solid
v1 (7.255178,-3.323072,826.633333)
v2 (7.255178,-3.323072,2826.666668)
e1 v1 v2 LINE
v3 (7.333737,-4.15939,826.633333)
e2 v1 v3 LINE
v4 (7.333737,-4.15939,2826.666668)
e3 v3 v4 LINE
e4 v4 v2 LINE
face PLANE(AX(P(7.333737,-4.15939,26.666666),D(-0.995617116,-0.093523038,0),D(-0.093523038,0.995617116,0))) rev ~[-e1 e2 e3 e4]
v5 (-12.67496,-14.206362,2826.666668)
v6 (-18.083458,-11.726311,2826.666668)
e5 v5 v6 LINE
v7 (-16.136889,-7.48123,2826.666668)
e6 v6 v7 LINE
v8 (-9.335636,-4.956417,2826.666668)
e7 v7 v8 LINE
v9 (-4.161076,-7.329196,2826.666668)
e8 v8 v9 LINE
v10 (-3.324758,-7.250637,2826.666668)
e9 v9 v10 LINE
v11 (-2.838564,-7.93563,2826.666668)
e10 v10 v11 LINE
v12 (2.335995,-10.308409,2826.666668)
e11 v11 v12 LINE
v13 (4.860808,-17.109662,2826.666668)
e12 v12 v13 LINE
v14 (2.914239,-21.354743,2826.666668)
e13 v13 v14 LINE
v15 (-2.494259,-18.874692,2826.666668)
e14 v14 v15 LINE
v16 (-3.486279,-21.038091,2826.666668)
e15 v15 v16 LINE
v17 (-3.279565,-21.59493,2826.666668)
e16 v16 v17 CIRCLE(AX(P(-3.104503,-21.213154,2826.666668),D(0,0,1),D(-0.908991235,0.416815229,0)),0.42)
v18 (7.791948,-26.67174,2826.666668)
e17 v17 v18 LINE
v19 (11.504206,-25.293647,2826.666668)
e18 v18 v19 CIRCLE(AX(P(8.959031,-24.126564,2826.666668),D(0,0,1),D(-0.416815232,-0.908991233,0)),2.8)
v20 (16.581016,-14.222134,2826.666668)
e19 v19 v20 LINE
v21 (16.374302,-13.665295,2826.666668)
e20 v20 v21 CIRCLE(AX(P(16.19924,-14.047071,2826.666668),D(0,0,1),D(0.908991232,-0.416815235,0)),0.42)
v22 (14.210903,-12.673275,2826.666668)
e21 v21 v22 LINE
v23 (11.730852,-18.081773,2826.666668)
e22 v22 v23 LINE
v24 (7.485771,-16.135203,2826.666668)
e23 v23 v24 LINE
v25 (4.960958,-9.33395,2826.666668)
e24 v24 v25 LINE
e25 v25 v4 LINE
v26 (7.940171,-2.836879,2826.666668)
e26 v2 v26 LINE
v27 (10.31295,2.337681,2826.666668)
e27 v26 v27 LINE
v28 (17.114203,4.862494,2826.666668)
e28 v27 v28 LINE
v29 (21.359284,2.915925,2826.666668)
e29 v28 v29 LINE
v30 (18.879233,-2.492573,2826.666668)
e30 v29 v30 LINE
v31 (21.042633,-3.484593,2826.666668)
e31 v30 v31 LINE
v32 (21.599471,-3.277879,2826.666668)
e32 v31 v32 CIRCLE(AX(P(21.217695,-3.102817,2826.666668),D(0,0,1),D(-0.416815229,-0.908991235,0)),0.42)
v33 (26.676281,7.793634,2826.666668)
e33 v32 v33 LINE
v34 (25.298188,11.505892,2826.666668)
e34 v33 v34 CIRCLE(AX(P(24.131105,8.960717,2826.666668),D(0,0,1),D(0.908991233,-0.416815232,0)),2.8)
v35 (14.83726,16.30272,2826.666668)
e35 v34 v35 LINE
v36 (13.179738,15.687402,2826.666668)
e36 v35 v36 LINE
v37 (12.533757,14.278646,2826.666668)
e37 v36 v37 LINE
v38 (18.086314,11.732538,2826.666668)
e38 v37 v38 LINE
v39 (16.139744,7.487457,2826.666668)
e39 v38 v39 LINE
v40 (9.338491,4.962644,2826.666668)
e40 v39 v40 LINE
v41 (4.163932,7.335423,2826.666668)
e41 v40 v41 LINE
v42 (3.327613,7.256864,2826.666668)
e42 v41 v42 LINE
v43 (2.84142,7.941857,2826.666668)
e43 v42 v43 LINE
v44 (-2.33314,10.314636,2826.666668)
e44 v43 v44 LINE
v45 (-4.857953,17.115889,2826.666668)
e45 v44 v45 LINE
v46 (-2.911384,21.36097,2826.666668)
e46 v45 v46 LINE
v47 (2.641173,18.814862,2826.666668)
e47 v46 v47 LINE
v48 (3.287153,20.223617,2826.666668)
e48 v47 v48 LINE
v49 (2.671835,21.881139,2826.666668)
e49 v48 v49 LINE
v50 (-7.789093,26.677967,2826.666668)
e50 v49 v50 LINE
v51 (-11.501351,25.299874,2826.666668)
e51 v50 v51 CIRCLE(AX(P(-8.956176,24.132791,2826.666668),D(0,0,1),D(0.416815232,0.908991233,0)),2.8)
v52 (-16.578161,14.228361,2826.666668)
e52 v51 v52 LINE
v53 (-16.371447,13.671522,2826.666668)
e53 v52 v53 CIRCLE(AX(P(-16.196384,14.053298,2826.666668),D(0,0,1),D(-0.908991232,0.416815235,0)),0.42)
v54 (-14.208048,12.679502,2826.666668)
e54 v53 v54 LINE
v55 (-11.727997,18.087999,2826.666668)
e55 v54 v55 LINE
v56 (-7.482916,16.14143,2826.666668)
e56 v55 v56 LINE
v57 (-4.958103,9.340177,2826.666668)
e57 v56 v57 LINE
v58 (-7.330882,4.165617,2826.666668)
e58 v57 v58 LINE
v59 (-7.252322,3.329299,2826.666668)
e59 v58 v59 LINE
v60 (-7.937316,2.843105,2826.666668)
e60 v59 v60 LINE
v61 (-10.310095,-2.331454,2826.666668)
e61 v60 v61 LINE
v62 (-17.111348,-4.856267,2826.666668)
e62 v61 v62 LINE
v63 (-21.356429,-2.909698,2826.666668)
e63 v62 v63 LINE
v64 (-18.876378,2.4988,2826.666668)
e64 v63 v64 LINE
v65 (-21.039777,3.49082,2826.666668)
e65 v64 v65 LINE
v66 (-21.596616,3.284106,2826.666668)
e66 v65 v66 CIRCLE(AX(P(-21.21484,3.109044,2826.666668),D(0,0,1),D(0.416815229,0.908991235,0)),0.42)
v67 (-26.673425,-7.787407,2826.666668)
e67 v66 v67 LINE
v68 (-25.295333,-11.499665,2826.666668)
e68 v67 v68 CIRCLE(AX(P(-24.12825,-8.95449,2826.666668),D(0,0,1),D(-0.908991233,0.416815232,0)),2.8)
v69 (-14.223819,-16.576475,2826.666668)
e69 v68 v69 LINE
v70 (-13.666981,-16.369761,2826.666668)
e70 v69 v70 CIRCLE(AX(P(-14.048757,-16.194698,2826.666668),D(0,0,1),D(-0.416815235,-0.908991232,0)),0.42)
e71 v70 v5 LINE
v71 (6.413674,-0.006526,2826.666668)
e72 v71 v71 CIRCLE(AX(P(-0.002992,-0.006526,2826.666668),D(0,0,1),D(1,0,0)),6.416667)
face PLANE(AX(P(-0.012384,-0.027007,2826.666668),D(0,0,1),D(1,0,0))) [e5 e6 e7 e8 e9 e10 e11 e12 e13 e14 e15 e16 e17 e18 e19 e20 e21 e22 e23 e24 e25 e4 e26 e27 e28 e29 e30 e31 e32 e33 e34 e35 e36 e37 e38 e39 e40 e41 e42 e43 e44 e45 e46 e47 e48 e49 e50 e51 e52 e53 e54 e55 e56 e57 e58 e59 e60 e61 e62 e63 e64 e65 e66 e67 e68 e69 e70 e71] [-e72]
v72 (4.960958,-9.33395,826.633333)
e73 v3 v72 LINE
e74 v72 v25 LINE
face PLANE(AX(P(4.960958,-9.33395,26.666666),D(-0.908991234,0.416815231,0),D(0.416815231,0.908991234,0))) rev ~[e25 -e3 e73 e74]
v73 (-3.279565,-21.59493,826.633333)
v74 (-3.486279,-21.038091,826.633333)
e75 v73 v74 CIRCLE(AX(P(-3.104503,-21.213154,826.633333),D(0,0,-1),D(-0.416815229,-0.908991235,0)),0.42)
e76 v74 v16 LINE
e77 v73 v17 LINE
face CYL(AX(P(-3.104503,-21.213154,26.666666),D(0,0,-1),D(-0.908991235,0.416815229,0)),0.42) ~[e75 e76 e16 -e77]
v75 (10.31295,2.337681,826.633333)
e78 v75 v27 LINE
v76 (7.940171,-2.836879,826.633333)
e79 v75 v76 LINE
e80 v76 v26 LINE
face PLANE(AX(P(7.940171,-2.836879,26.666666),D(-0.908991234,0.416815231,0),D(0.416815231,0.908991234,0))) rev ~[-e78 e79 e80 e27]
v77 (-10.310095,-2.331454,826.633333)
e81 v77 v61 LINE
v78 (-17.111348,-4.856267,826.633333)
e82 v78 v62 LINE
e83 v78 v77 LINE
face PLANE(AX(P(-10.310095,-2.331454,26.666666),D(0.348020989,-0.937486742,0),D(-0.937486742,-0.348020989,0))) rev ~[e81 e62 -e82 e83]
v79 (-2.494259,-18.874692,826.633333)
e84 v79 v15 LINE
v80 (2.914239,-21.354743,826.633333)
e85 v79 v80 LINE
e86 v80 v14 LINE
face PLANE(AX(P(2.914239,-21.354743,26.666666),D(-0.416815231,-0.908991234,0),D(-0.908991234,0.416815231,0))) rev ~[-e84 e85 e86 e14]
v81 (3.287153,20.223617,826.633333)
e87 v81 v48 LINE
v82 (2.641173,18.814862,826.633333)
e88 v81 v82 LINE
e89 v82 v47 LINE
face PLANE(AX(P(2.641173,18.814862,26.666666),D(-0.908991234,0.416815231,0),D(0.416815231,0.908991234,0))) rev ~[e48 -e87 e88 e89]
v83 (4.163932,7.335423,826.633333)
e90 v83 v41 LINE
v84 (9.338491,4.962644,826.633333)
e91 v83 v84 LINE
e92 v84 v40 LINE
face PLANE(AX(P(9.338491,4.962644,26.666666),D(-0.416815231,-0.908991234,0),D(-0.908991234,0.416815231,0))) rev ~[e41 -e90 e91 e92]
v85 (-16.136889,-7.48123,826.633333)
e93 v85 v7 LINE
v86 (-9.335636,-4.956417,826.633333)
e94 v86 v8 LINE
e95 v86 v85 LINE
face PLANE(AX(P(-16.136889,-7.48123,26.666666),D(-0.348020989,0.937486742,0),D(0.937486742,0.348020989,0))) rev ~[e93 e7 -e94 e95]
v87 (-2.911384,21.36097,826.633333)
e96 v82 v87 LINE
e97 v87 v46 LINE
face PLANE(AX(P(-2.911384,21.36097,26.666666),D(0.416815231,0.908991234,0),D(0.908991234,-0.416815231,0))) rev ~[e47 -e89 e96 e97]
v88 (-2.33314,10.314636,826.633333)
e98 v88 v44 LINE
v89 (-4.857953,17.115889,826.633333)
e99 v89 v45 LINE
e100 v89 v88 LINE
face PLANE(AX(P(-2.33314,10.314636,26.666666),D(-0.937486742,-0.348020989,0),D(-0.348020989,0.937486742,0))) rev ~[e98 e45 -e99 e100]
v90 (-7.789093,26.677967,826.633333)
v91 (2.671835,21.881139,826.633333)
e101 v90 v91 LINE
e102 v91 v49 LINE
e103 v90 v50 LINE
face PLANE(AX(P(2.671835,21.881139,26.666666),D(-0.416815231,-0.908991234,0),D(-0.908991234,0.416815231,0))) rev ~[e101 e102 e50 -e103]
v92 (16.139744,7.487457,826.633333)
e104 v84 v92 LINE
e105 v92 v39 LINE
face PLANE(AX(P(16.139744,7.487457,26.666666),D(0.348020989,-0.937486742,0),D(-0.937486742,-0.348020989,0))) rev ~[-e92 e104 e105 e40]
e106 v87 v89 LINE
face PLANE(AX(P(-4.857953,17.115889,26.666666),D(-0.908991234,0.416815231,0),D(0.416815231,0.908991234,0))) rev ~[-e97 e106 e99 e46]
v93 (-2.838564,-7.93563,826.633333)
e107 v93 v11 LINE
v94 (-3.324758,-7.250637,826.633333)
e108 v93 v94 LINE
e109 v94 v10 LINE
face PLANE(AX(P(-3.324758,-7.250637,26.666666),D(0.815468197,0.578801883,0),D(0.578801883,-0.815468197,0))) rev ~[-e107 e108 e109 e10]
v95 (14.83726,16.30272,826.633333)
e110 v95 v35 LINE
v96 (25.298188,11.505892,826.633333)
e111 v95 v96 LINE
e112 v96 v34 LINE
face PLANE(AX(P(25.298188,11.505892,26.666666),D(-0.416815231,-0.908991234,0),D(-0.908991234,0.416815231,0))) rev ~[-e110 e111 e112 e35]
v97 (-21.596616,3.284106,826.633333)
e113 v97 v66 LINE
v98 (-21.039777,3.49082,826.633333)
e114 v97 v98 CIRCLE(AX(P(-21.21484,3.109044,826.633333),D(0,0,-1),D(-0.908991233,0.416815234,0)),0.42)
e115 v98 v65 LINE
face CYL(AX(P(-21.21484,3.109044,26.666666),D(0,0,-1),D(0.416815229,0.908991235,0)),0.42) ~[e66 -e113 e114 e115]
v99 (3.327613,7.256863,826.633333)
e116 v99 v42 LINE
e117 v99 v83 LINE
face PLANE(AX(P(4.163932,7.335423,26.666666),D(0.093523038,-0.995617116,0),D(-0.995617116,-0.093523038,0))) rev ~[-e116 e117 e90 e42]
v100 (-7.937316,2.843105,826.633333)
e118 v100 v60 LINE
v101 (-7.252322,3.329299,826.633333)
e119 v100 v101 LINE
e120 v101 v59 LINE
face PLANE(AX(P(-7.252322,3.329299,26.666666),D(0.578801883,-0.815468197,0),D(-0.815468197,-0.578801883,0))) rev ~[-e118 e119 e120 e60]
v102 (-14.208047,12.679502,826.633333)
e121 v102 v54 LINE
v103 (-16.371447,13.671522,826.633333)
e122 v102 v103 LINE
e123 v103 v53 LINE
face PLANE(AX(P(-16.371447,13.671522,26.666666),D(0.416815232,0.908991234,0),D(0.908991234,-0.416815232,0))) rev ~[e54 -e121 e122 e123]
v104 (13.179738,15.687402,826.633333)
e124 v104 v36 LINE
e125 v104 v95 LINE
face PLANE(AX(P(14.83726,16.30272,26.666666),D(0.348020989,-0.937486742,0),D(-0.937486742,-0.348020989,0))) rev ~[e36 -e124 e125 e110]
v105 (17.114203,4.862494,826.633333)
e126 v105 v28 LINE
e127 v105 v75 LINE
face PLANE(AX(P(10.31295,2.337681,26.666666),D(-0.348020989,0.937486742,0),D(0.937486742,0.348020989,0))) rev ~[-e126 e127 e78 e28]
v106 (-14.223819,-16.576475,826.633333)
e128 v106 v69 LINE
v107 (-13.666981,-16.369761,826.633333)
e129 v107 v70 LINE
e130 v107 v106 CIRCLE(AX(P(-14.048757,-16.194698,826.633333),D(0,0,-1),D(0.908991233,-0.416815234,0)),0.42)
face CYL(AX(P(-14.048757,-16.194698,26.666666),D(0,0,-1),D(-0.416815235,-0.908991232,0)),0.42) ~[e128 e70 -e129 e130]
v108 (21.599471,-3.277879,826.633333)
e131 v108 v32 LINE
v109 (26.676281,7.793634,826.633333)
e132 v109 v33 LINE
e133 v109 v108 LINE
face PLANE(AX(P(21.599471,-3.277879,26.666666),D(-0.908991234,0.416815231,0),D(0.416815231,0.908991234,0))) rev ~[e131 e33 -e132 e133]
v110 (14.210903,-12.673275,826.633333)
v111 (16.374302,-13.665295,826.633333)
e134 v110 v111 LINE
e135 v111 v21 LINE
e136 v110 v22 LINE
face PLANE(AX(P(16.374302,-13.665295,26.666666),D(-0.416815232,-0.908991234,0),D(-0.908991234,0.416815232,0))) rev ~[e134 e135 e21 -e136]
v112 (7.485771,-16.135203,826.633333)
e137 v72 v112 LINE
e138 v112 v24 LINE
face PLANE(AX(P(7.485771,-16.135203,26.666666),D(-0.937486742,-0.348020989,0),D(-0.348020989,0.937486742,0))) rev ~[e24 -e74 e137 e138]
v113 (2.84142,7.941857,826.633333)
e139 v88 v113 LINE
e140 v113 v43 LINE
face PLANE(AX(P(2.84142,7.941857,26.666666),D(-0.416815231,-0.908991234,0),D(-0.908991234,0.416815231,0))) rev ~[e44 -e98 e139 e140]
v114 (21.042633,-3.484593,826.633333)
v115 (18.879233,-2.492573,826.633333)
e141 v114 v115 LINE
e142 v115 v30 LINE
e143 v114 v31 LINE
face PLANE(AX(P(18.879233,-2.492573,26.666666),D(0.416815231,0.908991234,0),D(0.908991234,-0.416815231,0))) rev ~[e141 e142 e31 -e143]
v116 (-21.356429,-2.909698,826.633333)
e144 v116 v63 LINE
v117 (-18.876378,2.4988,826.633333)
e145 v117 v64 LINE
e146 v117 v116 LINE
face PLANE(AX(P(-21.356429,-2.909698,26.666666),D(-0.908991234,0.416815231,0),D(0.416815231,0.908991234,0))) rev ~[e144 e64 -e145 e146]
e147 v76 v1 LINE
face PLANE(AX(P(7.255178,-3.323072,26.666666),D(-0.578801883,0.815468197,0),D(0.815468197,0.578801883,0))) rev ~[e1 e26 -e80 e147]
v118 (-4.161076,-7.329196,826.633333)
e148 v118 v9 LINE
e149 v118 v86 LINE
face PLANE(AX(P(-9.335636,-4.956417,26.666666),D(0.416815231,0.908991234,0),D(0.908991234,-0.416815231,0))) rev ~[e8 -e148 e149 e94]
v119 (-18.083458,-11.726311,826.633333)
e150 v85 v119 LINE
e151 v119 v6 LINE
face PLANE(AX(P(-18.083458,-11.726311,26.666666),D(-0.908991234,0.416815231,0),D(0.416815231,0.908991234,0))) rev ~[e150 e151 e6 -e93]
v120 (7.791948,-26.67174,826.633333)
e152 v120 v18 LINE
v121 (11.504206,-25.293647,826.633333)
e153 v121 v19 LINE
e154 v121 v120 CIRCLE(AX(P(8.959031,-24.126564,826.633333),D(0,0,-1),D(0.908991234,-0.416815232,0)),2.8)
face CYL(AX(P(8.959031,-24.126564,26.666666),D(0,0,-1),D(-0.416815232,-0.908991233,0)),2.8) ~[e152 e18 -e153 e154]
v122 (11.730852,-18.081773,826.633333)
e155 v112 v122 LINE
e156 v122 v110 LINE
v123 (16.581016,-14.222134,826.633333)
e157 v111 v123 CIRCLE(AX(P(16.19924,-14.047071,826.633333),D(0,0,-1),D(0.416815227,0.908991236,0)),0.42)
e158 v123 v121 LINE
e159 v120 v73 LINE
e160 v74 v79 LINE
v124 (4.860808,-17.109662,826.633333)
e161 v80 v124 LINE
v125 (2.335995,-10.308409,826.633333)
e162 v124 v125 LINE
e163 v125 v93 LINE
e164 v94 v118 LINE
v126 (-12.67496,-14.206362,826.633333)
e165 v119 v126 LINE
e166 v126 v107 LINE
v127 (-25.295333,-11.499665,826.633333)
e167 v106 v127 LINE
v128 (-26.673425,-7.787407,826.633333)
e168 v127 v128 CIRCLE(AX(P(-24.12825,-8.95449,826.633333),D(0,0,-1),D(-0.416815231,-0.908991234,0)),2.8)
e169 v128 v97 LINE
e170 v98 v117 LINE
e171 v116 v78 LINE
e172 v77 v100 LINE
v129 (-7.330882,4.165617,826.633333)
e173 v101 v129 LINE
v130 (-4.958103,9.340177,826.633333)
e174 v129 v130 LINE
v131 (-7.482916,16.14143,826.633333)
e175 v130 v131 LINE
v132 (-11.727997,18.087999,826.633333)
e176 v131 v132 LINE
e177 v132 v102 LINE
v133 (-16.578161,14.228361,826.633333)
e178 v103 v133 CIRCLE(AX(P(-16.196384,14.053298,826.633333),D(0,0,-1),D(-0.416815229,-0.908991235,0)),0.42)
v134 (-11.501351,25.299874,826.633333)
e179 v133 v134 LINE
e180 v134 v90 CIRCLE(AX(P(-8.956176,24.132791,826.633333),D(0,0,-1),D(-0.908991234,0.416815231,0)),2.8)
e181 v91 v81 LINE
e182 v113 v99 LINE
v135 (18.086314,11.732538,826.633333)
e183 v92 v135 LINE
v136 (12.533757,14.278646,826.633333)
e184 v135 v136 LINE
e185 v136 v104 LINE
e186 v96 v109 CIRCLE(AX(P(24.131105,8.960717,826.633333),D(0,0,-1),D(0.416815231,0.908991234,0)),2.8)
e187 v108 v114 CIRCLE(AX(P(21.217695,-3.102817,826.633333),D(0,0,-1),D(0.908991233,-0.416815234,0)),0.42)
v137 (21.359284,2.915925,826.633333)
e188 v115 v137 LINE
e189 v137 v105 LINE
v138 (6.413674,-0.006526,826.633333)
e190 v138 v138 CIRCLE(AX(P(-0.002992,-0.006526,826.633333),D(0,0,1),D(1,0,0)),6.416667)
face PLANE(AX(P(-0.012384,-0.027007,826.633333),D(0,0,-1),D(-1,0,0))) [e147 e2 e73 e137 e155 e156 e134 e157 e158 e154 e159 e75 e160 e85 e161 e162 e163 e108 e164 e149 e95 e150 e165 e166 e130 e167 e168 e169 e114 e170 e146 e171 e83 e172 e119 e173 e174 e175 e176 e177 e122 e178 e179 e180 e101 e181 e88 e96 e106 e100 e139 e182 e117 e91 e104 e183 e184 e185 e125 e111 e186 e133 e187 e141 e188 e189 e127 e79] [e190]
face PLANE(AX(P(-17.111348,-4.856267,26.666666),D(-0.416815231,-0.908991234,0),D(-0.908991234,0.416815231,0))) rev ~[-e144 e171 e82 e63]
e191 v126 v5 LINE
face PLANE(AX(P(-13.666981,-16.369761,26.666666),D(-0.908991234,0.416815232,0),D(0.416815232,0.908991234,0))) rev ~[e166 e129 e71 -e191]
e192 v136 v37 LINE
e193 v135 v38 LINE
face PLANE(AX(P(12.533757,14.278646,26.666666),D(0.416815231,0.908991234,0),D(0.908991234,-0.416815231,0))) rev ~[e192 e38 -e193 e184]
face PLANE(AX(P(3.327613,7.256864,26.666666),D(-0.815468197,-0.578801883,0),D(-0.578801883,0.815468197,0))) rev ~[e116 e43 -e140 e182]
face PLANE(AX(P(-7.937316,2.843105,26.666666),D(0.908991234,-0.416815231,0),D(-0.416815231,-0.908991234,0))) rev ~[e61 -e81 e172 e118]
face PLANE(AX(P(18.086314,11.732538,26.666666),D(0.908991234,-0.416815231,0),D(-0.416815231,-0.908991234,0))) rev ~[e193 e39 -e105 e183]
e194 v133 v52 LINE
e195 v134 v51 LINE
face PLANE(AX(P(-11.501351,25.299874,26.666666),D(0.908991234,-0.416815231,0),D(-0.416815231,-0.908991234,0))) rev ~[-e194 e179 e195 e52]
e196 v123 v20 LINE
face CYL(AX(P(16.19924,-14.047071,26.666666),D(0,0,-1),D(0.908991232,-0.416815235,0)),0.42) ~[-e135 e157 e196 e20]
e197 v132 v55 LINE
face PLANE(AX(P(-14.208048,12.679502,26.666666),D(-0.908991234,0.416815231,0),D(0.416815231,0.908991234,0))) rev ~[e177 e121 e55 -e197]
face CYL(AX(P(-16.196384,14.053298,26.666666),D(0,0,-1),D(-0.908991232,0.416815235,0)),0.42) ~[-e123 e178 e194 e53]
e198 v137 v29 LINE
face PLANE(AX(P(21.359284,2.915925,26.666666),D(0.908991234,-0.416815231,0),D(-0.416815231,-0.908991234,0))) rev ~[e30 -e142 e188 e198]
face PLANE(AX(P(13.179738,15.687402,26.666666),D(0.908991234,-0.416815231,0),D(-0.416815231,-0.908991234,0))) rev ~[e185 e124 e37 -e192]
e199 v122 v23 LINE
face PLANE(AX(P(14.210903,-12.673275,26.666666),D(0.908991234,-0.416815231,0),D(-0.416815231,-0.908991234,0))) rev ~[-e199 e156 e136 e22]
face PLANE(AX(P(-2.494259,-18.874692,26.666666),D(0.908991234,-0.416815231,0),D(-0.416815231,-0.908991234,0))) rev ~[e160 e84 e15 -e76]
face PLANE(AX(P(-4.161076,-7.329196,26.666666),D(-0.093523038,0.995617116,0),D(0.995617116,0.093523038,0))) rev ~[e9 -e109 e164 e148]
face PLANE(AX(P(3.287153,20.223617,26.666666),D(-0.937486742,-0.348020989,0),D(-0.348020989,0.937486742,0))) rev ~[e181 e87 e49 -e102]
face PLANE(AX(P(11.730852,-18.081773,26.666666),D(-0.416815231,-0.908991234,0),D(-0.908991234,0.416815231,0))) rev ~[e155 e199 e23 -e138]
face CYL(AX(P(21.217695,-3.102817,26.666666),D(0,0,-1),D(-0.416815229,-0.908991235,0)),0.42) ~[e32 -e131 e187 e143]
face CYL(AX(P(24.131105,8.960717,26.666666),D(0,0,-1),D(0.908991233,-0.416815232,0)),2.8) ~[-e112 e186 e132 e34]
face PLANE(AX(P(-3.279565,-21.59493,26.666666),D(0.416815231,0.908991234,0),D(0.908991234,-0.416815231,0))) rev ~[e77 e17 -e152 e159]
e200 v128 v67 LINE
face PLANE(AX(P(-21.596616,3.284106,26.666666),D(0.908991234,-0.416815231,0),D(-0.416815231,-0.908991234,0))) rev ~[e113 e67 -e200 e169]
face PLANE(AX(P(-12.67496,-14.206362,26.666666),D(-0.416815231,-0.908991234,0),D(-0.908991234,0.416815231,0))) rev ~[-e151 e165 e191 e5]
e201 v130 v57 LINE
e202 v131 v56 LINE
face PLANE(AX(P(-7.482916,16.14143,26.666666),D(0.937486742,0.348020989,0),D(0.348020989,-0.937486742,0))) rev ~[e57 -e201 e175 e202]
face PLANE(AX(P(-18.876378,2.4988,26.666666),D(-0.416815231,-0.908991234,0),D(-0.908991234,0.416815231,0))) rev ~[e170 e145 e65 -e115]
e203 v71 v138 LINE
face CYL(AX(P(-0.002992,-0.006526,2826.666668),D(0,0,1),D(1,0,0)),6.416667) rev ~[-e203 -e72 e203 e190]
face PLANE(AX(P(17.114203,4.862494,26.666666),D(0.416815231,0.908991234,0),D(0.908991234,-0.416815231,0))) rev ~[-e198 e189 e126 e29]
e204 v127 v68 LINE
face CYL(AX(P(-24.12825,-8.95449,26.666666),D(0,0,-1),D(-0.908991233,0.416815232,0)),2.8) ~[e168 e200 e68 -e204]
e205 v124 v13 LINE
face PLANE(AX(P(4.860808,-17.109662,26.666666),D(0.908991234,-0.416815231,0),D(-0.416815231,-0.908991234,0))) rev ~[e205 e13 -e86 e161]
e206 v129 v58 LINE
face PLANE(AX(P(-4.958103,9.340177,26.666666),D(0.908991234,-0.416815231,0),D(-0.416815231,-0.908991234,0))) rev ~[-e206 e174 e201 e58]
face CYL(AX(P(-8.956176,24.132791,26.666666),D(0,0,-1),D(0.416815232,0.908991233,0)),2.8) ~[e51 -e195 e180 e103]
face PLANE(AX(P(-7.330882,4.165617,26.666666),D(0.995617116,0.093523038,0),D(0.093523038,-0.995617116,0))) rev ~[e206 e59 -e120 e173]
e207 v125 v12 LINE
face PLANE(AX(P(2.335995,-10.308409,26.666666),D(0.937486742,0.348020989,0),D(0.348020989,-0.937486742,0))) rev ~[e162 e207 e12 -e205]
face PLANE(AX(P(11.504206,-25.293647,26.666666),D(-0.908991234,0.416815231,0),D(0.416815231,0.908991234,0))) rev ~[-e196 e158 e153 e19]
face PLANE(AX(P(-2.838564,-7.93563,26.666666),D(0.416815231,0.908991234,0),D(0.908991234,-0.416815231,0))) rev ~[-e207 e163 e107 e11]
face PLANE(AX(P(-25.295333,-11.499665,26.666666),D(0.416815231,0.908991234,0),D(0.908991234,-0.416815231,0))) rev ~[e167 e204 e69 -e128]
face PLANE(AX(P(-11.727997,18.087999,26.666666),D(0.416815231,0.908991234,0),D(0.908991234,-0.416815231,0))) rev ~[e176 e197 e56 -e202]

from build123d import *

# Parameters (mm, degrees)
BOSS_EXTRUDE1_DEPTH = 2000
SCALE1_SCALE        = 3
SKETCH2_R           = 115.047789556
CUT_EXTRUDE1_DEPTH  = 1600
SKETCH3_R           = 13.75
CUT_EXTRUDE2_DEPTH  = 4401
SCALE2_SCALE        = 0.466666667
CUT_EXTRUDE3_DEPTH  = 53.3


with BuildPart() as part:
    # Sketch1 → Boss-Extrude1 (new body)
    with BuildSketch(Plane.XY):
        with BuildLine():
            Line((-8.216270499, 18.069114507), (-11.842563011, 10.160890774))
            ThreePointArc((-11.842563011, 10.160890774), (-11.851111664, 9.931439908), (-11.694910211, 9.763148835))
            Line((-11.694910211, 9.763148835), (-10.149625113, 9.054562941))
            Line((-10.149625113, 9.054562941), (-8.37816038, 12.917775685))
            Line((-8.37816038, 12.917775685), (-5.345959751, 11.527369089))
            Line((-5.345959751, 11.527369089), (-3.542521768, 6.669331059))
            Line((-3.542521768, 6.669331059), (-5.237363855, 2.973217088))
            Line((-5.237363855, 2.973217088), (-5.181250032, 2.375846818))
            Line((-5.181250032, 2.375846818), (-5.67053095, 2.028565688))
            Line((-5.67053095, 2.028565688), (-7.365373037, -1.667548284))
            Line((-7.365373037, -1.667548284), (-12.223411067, -3.470986267))
            Line((-12.223411067, -3.470986267), (-15.255611696, -2.080579672))
            Line((-15.255611696, -2.080579672), (-13.484146963, 1.782633072))
            Line((-13.484146963, 1.782633072), (-15.029432061, 2.491218965))
            ThreePointArc((-15.029432061, 2.491218965), (-15.258882927, 2.499767617), (-15.427174, 2.343566164))
            Line((-15.427174, 2.343566164), (-19.053466512, -5.564657569))
            ThreePointArc((-19.053466512, -5.564657569), (-19.110457529, -7.094330009), (-18.069114507, -8.216270499))
            Line((-18.069114507, -8.216270499), (-10.160890774, -11.842563011))
            ThreePointArc((-10.160890774, -11.842563011), (-9.931439908, -11.851111664), (-9.763148835, -11.694910211))
            Line((-9.763148835, -11.694910211), (-9.054562941, -10.149625113))
            Line((-9.054562941, -10.149625113), (-12.917775685, -8.37816038))
            Line((-12.917775685, -8.37816038), (-11.527369089, -5.345959751))
            Line((-11.527369089, -5.345959751), (-6.669331059, -3.542521768))
            Line((-6.669331059, -3.542521768), (-2.973217088, -5.237363855))
            Line((-2.973217088, -5.237363855), (-2.375846818, -5.181250032))
            Line((-2.375846818, -5.181250032), (-2.028565688, -5.67053095))
            Line((-2.028565688, -5.67053095), (1.667548284, -7.365373037))
            Line((1.667548284, -7.365373037), (3.470986267, -12.223411067))
            Line((3.470986267, -12.223411067), (2.080579672, -15.255611696))
            Line((2.080579672, -15.255611696), (-1.782633072, -13.484146963))
            Line((-1.782633072, -13.484146963), (-2.491218965, -15.029432061))
            ThreePointArc((-2.491218965, -15.029432061), (-2.499767617, -15.258882927), (-2.343566164, -15.427174))
            Line((-2.343566164, -15.427174), (5.564657569, -19.053466512))
            ThreePointArc((5.564657569, -19.053466512), (7.094330009, -19.110457529), (8.216270499, -18.069114507))
            Line((8.216270499, -18.069114507), (11.842563011, -10.160890774))
            ThreePointArc((11.842563011, -10.160890774), (11.851111664, -9.931439908), (11.694910211, -9.763148835))
            Line((11.694910211, -9.763148835), (10.149625113, -9.054562941))
            Line((10.149625113, -9.054562941), (8.37816038, -12.917775685))
            Line((8.37816038, -12.917775685), (5.345959751, -11.527369089))
            Line((5.345959751, -11.527369089), (3.542521768, -6.669331059))
            Line((3.542521768, -6.669331059), (5.237363855, -2.973217088))
            Line((5.237363855, -2.973217088), (5.181250032, -2.375846818))
            Line((5.181250032, -2.375846818), (5.67053095, -2.028565688))
            Line((5.67053095, -2.028565688), (7.365373037, 1.667548284))
            Line((7.365373037, 1.667548284), (12.223411067, 3.470986267))
            Line((12.223411067, 3.470986267), (15.255611696, 2.080579672))
            Line((15.255611696, 2.080579672), (13.484146963, -1.782633072))
            Line((13.484146963, -1.782633072), (15.029432061, -2.491218965))
            ThreePointArc((15.029432061, -2.491218965), (15.258882927, -2.499767617), (15.427174, -2.343566164))
            Line((15.427174, -2.343566164), (19.053466512, 5.564657569))
            ThreePointArc((19.053466512, 5.564657569), (19.110457529, 7.094330009), (18.069114507, 8.216270499))
            Line((18.069114507, 8.216270499), (10.597022809, 11.642575962))
            Line((10.597022809, 11.642575962), (9.413078742, 11.203063202))
            Line((9.413078742, 11.203063202), (8.951663933, 10.196809148))
            Line((8.951663933, 10.196809148), (12.917775685, 8.37816038))
            Line((12.917775685, 8.37816038), (11.527369089, 5.345959751))
            Line((11.527369089, 5.345959751), (6.669331059, 3.542521768))
            Line((6.669331059, 3.542521768), (2.973217088, 5.237363855))
            Line((2.973217088, 5.237363855), (2.375846818, 5.181250032))
            Line((2.375846818, 5.181250032), (2.028565688, 5.67053095))
            Line((2.028565688, 5.67053095), (-1.667548284, 7.365373037))
            Line((-1.667548284, 7.365373037), (-3.470986267, 12.223411067))
            Line((-3.470986267, 12.223411067), (-2.080579672, 15.255611696))
            Line((-2.080579672, 15.255611696), (1.88553208, 13.436962929))
            Line((1.88553208, 13.436962929), (2.346946889, 14.443216983))
            Line((2.346946889, 14.443216983), (1.907434129, 15.62716105))
            Line((1.907434129, 15.62716105), (-5.564657569, 19.053466512))
            ThreePointArc((-5.564657569, 19.053466512), (-7.094330009, 19.110457529), (-8.216270499, 18.069114507))
        make_face()
    extrude(amount=BOSS_EXTRUDE1_DEPTH)


with BuildPart() as part_1:
    # Scale1: scaled about (-0.00473582, -0.010327884, 1000)
    add(part.part.scale(SCALE1_SCALE).moved(Location((0.00947164, 0.020655768, -2000))))

    # Sketch2 → Cut-Extrude1 (cut)
    with BuildSketch(Plane(origin=(0, 0, -2000), x_dir=(-1, 0, 0), z_dir=(0, 0, -1))):
        Circle(SKETCH2_R)
    extrude(amount=-CUT_EXTRUDE1_DEPTH, mode=Mode.SUBTRACT)

    # Sketch3 → Cut-Extrude2 (cut, through all)
    with BuildSketch(Plane.XY.offset(4000)):
        Circle(SKETCH3_R)
    extrude(amount=-CUT_EXTRUDE2_DEPTH, mode=Mode.SUBTRACT)


with BuildPart() as part_2:
    # Scale2: scaled about (-0.005610815, -0.012236071, 1800)
    add(part_1.part.scale(SCALE2_SCALE).moved(Location((-0.002992435, -0.006525905, 960))))

    # Sketch6 → Cut-Extrude3 (cut)
    with BuildSketch(Plane(origin=(0, 0, 773.333333333), x_dir=(-1, 0, 0), z_dir=(0, 0, -1))):
        with BuildLine():
            Line((7.789092932, 26.67796657), (-2.671835446, 21.881138923))
            Line((-2.671835446, 21.881138923), (-3.287153309, 20.223617229))
            Line((-3.287153309, 20.223617229), (-2.641172576, 18.814861553))
            Line((-2.641172576, 18.814861553), (2.911383876, 21.360969828))
            Line((2.911383876, 21.360969828), (4.857953109, 17.115888947))
            Line((4.857953109, 17.115888947), (2.333139933, 10.314635704))
            Line((2.333139933, 10.314635704), (-2.841419627, 7.941856782))
            Line((-2.841419627, 7.941856782), (-3.32761321, 7.256863498))
            Line((-3.32761321, 7.256863498), (-4.163931587, 7.33542285))
            Line((-4.163931587, 7.33542285), (-9.338491147, 4.962643928))
            Line((-9.338491147, 4.962643928), (-16.13974439, 7.487457104))
            Line((-16.13974439, 7.487457104), (-18.086313623, 11.732537985))
            Line((-18.086313623, 11.732537985), (-12.533757171, 14.27864626))
            Line((-12.533757171, 14.27864626), (-13.179737904, 15.687401936))
            Line((-13.179737904, 15.687401936), (-14.837259597, 16.302719799))
            Line((-14.837259597, 16.302719799), (-25.298187975, 11.505892152))
            ThreePointArc((-25.298187975, 11.505892152), (-26.756068205, 9.935175466), (-26.676280782, 7.79363405))
            Line((-26.676280782, 7.79363405), (-21.599471265, -3.277879177))
            ThreePointArc((-21.599471265, -3.277879177), (-21.363863762, -3.496561211), (-21.04263255, -3.484593098))
            Line((-21.04263255, -3.484593098), (-18.879233413, -2.492572848))
            Line((-18.879233413, -2.492572848), (-21.359284039, 2.915924993))
            Line((-21.359284039, 2.915924993), (-17.114203158, 4.862494227))
            Line((-17.114203158, 4.862494227), (-10.312949916, 2.33768105))
            Line((-10.312949916, 2.33768105), (-7.940170994, -2.83687851))
            Line((-7.940170994, -2.83687851), (-7.25517771, -3.323072093))
            Line((-7.25517771, -3.323072093), (-7.333737061, -4.15939047))
            Line((-7.333737061, -4.15939047), (-4.960958139, -9.33395003))
            Line((-4.960958139, -9.33395003), (-7.485771316, -16.135203272))
            Line((-7.485771316, -16.135203272), (-11.730852197, -18.081772506))
            Line((-11.730852197, -18.081772506), (-14.210902823, -12.673274665))
            Line((-14.210902823, -12.673274665), (-16.374301959, -13.665294916))
            ThreePointArc((-16.374301959, -13.665294916), (-16.592983994, -13.900902418), (-16.58101588, -14.222133631))
            Line((-16.58101588, -14.222133631), (-11.504206363, -25.293646858))
            ThreePointArc((-11.504206363, -25.293646858), (-9.933489678, -26.751527087), (-7.791948261, -26.671739664))
            Line((-7.791948261, -26.671739664), (3.279564965, -21.594930148))
            ThreePointArc((3.279564965, -21.594930148), (3.498247, -21.359322645), (3.486278886, -21.038091432))
            Line((3.486278886, -21.038091432), (2.494258636, -18.874692296))
            Line((2.494258636, -18.874692296), (-2.914239205, -21.354742922))
            Line((-2.914239205, -21.354742922), (-4.860808438, -17.109662041))
            Line((-4.860808438, -17.109662041), (-2.335995262, -10.308408799))
            Line((-2.335995262, -10.308408799), (2.838564298, -7.935629877))
            Line((2.838564298, -7.935629877), (3.324757881, -7.250636592))
            Line((3.324757881, -7.250636592), (4.161076258, -7.329195944))
            Line((4.161076258, -7.329195944), (9.335635818, -4.956417022))
            Line((9.335635818, -4.956417022), (16.13688906, -7.481230198))
            Line((16.13688906, -7.481230198), (18.083458294, -11.72631108))
            Line((18.083458294, -11.72631108), (12.674960453, -14.206361706))
            Line((12.674960453, -14.206361706), (13.666980704, -16.369760842))
            ThreePointArc((13.666980704, -16.369760842), (13.902588207, -16.588442876), (14.223819419, -16.576474763))
            Line((14.223819419, -16.576474763), (25.295332646, -11.499665246))
            ThreePointArc((25.295332646, -11.499665246), (26.753212876, -9.92894856), (26.673425453, -7.787407144))
            Line((26.673425453, -7.787407144), (21.596615936, 3.284106083))
            ThreePointArc((21.596615936, 3.284106083), (21.361008433, 3.502788117), (21.039777221, 3.490820004))
            Line((21.039777221, 3.490820004), (18.876378084, 2.498799753))
            Line((18.876378084, 2.498799753), (21.35642871, -2.909698087))
            Line((21.35642871, -2.909698087), (17.111347829, -4.856267321))
            Line((17.111347829, -4.856267321), (10.310094587, -2.331454145))
            Line((10.310094587, -2.331454145), (7.937315665, 2.843105415))
            Line((7.937315665, 2.843105415), (7.252322381, 3.329298998))
            Line((7.252322381, 3.329298998), (7.330881732, 4.165617376))
            Line((7.330881732, 4.165617376), (4.95810281, 9.340176936))
            Line((4.95810281, 9.340176936), (7.482915987, 16.141430178))
            Line((7.482915987, 16.141430178), (11.727996868, 18.087999412))
            Line((11.727996868, 18.087999412), (14.208047494, 12.679501571))
            Line((14.208047494, 12.679501571), (16.37144663, 13.671521821))
            ThreePointArc((16.37144663, 13.671521821), (16.590128665, 13.907129324), (16.578160551, 14.228360537))
            Line((16.578160551, 14.228360537), (11.501351034, 25.299873763))
            ThreePointArc((11.501351034, 25.299873763), (9.930634349, 26.757753993), (7.789092932, 26.67796657))
        make_face()
    extrude(amount=-CUT_EXTRUDE3_DEPTH, mode=Mode.SUBTRACT)


solid = part_2.part
